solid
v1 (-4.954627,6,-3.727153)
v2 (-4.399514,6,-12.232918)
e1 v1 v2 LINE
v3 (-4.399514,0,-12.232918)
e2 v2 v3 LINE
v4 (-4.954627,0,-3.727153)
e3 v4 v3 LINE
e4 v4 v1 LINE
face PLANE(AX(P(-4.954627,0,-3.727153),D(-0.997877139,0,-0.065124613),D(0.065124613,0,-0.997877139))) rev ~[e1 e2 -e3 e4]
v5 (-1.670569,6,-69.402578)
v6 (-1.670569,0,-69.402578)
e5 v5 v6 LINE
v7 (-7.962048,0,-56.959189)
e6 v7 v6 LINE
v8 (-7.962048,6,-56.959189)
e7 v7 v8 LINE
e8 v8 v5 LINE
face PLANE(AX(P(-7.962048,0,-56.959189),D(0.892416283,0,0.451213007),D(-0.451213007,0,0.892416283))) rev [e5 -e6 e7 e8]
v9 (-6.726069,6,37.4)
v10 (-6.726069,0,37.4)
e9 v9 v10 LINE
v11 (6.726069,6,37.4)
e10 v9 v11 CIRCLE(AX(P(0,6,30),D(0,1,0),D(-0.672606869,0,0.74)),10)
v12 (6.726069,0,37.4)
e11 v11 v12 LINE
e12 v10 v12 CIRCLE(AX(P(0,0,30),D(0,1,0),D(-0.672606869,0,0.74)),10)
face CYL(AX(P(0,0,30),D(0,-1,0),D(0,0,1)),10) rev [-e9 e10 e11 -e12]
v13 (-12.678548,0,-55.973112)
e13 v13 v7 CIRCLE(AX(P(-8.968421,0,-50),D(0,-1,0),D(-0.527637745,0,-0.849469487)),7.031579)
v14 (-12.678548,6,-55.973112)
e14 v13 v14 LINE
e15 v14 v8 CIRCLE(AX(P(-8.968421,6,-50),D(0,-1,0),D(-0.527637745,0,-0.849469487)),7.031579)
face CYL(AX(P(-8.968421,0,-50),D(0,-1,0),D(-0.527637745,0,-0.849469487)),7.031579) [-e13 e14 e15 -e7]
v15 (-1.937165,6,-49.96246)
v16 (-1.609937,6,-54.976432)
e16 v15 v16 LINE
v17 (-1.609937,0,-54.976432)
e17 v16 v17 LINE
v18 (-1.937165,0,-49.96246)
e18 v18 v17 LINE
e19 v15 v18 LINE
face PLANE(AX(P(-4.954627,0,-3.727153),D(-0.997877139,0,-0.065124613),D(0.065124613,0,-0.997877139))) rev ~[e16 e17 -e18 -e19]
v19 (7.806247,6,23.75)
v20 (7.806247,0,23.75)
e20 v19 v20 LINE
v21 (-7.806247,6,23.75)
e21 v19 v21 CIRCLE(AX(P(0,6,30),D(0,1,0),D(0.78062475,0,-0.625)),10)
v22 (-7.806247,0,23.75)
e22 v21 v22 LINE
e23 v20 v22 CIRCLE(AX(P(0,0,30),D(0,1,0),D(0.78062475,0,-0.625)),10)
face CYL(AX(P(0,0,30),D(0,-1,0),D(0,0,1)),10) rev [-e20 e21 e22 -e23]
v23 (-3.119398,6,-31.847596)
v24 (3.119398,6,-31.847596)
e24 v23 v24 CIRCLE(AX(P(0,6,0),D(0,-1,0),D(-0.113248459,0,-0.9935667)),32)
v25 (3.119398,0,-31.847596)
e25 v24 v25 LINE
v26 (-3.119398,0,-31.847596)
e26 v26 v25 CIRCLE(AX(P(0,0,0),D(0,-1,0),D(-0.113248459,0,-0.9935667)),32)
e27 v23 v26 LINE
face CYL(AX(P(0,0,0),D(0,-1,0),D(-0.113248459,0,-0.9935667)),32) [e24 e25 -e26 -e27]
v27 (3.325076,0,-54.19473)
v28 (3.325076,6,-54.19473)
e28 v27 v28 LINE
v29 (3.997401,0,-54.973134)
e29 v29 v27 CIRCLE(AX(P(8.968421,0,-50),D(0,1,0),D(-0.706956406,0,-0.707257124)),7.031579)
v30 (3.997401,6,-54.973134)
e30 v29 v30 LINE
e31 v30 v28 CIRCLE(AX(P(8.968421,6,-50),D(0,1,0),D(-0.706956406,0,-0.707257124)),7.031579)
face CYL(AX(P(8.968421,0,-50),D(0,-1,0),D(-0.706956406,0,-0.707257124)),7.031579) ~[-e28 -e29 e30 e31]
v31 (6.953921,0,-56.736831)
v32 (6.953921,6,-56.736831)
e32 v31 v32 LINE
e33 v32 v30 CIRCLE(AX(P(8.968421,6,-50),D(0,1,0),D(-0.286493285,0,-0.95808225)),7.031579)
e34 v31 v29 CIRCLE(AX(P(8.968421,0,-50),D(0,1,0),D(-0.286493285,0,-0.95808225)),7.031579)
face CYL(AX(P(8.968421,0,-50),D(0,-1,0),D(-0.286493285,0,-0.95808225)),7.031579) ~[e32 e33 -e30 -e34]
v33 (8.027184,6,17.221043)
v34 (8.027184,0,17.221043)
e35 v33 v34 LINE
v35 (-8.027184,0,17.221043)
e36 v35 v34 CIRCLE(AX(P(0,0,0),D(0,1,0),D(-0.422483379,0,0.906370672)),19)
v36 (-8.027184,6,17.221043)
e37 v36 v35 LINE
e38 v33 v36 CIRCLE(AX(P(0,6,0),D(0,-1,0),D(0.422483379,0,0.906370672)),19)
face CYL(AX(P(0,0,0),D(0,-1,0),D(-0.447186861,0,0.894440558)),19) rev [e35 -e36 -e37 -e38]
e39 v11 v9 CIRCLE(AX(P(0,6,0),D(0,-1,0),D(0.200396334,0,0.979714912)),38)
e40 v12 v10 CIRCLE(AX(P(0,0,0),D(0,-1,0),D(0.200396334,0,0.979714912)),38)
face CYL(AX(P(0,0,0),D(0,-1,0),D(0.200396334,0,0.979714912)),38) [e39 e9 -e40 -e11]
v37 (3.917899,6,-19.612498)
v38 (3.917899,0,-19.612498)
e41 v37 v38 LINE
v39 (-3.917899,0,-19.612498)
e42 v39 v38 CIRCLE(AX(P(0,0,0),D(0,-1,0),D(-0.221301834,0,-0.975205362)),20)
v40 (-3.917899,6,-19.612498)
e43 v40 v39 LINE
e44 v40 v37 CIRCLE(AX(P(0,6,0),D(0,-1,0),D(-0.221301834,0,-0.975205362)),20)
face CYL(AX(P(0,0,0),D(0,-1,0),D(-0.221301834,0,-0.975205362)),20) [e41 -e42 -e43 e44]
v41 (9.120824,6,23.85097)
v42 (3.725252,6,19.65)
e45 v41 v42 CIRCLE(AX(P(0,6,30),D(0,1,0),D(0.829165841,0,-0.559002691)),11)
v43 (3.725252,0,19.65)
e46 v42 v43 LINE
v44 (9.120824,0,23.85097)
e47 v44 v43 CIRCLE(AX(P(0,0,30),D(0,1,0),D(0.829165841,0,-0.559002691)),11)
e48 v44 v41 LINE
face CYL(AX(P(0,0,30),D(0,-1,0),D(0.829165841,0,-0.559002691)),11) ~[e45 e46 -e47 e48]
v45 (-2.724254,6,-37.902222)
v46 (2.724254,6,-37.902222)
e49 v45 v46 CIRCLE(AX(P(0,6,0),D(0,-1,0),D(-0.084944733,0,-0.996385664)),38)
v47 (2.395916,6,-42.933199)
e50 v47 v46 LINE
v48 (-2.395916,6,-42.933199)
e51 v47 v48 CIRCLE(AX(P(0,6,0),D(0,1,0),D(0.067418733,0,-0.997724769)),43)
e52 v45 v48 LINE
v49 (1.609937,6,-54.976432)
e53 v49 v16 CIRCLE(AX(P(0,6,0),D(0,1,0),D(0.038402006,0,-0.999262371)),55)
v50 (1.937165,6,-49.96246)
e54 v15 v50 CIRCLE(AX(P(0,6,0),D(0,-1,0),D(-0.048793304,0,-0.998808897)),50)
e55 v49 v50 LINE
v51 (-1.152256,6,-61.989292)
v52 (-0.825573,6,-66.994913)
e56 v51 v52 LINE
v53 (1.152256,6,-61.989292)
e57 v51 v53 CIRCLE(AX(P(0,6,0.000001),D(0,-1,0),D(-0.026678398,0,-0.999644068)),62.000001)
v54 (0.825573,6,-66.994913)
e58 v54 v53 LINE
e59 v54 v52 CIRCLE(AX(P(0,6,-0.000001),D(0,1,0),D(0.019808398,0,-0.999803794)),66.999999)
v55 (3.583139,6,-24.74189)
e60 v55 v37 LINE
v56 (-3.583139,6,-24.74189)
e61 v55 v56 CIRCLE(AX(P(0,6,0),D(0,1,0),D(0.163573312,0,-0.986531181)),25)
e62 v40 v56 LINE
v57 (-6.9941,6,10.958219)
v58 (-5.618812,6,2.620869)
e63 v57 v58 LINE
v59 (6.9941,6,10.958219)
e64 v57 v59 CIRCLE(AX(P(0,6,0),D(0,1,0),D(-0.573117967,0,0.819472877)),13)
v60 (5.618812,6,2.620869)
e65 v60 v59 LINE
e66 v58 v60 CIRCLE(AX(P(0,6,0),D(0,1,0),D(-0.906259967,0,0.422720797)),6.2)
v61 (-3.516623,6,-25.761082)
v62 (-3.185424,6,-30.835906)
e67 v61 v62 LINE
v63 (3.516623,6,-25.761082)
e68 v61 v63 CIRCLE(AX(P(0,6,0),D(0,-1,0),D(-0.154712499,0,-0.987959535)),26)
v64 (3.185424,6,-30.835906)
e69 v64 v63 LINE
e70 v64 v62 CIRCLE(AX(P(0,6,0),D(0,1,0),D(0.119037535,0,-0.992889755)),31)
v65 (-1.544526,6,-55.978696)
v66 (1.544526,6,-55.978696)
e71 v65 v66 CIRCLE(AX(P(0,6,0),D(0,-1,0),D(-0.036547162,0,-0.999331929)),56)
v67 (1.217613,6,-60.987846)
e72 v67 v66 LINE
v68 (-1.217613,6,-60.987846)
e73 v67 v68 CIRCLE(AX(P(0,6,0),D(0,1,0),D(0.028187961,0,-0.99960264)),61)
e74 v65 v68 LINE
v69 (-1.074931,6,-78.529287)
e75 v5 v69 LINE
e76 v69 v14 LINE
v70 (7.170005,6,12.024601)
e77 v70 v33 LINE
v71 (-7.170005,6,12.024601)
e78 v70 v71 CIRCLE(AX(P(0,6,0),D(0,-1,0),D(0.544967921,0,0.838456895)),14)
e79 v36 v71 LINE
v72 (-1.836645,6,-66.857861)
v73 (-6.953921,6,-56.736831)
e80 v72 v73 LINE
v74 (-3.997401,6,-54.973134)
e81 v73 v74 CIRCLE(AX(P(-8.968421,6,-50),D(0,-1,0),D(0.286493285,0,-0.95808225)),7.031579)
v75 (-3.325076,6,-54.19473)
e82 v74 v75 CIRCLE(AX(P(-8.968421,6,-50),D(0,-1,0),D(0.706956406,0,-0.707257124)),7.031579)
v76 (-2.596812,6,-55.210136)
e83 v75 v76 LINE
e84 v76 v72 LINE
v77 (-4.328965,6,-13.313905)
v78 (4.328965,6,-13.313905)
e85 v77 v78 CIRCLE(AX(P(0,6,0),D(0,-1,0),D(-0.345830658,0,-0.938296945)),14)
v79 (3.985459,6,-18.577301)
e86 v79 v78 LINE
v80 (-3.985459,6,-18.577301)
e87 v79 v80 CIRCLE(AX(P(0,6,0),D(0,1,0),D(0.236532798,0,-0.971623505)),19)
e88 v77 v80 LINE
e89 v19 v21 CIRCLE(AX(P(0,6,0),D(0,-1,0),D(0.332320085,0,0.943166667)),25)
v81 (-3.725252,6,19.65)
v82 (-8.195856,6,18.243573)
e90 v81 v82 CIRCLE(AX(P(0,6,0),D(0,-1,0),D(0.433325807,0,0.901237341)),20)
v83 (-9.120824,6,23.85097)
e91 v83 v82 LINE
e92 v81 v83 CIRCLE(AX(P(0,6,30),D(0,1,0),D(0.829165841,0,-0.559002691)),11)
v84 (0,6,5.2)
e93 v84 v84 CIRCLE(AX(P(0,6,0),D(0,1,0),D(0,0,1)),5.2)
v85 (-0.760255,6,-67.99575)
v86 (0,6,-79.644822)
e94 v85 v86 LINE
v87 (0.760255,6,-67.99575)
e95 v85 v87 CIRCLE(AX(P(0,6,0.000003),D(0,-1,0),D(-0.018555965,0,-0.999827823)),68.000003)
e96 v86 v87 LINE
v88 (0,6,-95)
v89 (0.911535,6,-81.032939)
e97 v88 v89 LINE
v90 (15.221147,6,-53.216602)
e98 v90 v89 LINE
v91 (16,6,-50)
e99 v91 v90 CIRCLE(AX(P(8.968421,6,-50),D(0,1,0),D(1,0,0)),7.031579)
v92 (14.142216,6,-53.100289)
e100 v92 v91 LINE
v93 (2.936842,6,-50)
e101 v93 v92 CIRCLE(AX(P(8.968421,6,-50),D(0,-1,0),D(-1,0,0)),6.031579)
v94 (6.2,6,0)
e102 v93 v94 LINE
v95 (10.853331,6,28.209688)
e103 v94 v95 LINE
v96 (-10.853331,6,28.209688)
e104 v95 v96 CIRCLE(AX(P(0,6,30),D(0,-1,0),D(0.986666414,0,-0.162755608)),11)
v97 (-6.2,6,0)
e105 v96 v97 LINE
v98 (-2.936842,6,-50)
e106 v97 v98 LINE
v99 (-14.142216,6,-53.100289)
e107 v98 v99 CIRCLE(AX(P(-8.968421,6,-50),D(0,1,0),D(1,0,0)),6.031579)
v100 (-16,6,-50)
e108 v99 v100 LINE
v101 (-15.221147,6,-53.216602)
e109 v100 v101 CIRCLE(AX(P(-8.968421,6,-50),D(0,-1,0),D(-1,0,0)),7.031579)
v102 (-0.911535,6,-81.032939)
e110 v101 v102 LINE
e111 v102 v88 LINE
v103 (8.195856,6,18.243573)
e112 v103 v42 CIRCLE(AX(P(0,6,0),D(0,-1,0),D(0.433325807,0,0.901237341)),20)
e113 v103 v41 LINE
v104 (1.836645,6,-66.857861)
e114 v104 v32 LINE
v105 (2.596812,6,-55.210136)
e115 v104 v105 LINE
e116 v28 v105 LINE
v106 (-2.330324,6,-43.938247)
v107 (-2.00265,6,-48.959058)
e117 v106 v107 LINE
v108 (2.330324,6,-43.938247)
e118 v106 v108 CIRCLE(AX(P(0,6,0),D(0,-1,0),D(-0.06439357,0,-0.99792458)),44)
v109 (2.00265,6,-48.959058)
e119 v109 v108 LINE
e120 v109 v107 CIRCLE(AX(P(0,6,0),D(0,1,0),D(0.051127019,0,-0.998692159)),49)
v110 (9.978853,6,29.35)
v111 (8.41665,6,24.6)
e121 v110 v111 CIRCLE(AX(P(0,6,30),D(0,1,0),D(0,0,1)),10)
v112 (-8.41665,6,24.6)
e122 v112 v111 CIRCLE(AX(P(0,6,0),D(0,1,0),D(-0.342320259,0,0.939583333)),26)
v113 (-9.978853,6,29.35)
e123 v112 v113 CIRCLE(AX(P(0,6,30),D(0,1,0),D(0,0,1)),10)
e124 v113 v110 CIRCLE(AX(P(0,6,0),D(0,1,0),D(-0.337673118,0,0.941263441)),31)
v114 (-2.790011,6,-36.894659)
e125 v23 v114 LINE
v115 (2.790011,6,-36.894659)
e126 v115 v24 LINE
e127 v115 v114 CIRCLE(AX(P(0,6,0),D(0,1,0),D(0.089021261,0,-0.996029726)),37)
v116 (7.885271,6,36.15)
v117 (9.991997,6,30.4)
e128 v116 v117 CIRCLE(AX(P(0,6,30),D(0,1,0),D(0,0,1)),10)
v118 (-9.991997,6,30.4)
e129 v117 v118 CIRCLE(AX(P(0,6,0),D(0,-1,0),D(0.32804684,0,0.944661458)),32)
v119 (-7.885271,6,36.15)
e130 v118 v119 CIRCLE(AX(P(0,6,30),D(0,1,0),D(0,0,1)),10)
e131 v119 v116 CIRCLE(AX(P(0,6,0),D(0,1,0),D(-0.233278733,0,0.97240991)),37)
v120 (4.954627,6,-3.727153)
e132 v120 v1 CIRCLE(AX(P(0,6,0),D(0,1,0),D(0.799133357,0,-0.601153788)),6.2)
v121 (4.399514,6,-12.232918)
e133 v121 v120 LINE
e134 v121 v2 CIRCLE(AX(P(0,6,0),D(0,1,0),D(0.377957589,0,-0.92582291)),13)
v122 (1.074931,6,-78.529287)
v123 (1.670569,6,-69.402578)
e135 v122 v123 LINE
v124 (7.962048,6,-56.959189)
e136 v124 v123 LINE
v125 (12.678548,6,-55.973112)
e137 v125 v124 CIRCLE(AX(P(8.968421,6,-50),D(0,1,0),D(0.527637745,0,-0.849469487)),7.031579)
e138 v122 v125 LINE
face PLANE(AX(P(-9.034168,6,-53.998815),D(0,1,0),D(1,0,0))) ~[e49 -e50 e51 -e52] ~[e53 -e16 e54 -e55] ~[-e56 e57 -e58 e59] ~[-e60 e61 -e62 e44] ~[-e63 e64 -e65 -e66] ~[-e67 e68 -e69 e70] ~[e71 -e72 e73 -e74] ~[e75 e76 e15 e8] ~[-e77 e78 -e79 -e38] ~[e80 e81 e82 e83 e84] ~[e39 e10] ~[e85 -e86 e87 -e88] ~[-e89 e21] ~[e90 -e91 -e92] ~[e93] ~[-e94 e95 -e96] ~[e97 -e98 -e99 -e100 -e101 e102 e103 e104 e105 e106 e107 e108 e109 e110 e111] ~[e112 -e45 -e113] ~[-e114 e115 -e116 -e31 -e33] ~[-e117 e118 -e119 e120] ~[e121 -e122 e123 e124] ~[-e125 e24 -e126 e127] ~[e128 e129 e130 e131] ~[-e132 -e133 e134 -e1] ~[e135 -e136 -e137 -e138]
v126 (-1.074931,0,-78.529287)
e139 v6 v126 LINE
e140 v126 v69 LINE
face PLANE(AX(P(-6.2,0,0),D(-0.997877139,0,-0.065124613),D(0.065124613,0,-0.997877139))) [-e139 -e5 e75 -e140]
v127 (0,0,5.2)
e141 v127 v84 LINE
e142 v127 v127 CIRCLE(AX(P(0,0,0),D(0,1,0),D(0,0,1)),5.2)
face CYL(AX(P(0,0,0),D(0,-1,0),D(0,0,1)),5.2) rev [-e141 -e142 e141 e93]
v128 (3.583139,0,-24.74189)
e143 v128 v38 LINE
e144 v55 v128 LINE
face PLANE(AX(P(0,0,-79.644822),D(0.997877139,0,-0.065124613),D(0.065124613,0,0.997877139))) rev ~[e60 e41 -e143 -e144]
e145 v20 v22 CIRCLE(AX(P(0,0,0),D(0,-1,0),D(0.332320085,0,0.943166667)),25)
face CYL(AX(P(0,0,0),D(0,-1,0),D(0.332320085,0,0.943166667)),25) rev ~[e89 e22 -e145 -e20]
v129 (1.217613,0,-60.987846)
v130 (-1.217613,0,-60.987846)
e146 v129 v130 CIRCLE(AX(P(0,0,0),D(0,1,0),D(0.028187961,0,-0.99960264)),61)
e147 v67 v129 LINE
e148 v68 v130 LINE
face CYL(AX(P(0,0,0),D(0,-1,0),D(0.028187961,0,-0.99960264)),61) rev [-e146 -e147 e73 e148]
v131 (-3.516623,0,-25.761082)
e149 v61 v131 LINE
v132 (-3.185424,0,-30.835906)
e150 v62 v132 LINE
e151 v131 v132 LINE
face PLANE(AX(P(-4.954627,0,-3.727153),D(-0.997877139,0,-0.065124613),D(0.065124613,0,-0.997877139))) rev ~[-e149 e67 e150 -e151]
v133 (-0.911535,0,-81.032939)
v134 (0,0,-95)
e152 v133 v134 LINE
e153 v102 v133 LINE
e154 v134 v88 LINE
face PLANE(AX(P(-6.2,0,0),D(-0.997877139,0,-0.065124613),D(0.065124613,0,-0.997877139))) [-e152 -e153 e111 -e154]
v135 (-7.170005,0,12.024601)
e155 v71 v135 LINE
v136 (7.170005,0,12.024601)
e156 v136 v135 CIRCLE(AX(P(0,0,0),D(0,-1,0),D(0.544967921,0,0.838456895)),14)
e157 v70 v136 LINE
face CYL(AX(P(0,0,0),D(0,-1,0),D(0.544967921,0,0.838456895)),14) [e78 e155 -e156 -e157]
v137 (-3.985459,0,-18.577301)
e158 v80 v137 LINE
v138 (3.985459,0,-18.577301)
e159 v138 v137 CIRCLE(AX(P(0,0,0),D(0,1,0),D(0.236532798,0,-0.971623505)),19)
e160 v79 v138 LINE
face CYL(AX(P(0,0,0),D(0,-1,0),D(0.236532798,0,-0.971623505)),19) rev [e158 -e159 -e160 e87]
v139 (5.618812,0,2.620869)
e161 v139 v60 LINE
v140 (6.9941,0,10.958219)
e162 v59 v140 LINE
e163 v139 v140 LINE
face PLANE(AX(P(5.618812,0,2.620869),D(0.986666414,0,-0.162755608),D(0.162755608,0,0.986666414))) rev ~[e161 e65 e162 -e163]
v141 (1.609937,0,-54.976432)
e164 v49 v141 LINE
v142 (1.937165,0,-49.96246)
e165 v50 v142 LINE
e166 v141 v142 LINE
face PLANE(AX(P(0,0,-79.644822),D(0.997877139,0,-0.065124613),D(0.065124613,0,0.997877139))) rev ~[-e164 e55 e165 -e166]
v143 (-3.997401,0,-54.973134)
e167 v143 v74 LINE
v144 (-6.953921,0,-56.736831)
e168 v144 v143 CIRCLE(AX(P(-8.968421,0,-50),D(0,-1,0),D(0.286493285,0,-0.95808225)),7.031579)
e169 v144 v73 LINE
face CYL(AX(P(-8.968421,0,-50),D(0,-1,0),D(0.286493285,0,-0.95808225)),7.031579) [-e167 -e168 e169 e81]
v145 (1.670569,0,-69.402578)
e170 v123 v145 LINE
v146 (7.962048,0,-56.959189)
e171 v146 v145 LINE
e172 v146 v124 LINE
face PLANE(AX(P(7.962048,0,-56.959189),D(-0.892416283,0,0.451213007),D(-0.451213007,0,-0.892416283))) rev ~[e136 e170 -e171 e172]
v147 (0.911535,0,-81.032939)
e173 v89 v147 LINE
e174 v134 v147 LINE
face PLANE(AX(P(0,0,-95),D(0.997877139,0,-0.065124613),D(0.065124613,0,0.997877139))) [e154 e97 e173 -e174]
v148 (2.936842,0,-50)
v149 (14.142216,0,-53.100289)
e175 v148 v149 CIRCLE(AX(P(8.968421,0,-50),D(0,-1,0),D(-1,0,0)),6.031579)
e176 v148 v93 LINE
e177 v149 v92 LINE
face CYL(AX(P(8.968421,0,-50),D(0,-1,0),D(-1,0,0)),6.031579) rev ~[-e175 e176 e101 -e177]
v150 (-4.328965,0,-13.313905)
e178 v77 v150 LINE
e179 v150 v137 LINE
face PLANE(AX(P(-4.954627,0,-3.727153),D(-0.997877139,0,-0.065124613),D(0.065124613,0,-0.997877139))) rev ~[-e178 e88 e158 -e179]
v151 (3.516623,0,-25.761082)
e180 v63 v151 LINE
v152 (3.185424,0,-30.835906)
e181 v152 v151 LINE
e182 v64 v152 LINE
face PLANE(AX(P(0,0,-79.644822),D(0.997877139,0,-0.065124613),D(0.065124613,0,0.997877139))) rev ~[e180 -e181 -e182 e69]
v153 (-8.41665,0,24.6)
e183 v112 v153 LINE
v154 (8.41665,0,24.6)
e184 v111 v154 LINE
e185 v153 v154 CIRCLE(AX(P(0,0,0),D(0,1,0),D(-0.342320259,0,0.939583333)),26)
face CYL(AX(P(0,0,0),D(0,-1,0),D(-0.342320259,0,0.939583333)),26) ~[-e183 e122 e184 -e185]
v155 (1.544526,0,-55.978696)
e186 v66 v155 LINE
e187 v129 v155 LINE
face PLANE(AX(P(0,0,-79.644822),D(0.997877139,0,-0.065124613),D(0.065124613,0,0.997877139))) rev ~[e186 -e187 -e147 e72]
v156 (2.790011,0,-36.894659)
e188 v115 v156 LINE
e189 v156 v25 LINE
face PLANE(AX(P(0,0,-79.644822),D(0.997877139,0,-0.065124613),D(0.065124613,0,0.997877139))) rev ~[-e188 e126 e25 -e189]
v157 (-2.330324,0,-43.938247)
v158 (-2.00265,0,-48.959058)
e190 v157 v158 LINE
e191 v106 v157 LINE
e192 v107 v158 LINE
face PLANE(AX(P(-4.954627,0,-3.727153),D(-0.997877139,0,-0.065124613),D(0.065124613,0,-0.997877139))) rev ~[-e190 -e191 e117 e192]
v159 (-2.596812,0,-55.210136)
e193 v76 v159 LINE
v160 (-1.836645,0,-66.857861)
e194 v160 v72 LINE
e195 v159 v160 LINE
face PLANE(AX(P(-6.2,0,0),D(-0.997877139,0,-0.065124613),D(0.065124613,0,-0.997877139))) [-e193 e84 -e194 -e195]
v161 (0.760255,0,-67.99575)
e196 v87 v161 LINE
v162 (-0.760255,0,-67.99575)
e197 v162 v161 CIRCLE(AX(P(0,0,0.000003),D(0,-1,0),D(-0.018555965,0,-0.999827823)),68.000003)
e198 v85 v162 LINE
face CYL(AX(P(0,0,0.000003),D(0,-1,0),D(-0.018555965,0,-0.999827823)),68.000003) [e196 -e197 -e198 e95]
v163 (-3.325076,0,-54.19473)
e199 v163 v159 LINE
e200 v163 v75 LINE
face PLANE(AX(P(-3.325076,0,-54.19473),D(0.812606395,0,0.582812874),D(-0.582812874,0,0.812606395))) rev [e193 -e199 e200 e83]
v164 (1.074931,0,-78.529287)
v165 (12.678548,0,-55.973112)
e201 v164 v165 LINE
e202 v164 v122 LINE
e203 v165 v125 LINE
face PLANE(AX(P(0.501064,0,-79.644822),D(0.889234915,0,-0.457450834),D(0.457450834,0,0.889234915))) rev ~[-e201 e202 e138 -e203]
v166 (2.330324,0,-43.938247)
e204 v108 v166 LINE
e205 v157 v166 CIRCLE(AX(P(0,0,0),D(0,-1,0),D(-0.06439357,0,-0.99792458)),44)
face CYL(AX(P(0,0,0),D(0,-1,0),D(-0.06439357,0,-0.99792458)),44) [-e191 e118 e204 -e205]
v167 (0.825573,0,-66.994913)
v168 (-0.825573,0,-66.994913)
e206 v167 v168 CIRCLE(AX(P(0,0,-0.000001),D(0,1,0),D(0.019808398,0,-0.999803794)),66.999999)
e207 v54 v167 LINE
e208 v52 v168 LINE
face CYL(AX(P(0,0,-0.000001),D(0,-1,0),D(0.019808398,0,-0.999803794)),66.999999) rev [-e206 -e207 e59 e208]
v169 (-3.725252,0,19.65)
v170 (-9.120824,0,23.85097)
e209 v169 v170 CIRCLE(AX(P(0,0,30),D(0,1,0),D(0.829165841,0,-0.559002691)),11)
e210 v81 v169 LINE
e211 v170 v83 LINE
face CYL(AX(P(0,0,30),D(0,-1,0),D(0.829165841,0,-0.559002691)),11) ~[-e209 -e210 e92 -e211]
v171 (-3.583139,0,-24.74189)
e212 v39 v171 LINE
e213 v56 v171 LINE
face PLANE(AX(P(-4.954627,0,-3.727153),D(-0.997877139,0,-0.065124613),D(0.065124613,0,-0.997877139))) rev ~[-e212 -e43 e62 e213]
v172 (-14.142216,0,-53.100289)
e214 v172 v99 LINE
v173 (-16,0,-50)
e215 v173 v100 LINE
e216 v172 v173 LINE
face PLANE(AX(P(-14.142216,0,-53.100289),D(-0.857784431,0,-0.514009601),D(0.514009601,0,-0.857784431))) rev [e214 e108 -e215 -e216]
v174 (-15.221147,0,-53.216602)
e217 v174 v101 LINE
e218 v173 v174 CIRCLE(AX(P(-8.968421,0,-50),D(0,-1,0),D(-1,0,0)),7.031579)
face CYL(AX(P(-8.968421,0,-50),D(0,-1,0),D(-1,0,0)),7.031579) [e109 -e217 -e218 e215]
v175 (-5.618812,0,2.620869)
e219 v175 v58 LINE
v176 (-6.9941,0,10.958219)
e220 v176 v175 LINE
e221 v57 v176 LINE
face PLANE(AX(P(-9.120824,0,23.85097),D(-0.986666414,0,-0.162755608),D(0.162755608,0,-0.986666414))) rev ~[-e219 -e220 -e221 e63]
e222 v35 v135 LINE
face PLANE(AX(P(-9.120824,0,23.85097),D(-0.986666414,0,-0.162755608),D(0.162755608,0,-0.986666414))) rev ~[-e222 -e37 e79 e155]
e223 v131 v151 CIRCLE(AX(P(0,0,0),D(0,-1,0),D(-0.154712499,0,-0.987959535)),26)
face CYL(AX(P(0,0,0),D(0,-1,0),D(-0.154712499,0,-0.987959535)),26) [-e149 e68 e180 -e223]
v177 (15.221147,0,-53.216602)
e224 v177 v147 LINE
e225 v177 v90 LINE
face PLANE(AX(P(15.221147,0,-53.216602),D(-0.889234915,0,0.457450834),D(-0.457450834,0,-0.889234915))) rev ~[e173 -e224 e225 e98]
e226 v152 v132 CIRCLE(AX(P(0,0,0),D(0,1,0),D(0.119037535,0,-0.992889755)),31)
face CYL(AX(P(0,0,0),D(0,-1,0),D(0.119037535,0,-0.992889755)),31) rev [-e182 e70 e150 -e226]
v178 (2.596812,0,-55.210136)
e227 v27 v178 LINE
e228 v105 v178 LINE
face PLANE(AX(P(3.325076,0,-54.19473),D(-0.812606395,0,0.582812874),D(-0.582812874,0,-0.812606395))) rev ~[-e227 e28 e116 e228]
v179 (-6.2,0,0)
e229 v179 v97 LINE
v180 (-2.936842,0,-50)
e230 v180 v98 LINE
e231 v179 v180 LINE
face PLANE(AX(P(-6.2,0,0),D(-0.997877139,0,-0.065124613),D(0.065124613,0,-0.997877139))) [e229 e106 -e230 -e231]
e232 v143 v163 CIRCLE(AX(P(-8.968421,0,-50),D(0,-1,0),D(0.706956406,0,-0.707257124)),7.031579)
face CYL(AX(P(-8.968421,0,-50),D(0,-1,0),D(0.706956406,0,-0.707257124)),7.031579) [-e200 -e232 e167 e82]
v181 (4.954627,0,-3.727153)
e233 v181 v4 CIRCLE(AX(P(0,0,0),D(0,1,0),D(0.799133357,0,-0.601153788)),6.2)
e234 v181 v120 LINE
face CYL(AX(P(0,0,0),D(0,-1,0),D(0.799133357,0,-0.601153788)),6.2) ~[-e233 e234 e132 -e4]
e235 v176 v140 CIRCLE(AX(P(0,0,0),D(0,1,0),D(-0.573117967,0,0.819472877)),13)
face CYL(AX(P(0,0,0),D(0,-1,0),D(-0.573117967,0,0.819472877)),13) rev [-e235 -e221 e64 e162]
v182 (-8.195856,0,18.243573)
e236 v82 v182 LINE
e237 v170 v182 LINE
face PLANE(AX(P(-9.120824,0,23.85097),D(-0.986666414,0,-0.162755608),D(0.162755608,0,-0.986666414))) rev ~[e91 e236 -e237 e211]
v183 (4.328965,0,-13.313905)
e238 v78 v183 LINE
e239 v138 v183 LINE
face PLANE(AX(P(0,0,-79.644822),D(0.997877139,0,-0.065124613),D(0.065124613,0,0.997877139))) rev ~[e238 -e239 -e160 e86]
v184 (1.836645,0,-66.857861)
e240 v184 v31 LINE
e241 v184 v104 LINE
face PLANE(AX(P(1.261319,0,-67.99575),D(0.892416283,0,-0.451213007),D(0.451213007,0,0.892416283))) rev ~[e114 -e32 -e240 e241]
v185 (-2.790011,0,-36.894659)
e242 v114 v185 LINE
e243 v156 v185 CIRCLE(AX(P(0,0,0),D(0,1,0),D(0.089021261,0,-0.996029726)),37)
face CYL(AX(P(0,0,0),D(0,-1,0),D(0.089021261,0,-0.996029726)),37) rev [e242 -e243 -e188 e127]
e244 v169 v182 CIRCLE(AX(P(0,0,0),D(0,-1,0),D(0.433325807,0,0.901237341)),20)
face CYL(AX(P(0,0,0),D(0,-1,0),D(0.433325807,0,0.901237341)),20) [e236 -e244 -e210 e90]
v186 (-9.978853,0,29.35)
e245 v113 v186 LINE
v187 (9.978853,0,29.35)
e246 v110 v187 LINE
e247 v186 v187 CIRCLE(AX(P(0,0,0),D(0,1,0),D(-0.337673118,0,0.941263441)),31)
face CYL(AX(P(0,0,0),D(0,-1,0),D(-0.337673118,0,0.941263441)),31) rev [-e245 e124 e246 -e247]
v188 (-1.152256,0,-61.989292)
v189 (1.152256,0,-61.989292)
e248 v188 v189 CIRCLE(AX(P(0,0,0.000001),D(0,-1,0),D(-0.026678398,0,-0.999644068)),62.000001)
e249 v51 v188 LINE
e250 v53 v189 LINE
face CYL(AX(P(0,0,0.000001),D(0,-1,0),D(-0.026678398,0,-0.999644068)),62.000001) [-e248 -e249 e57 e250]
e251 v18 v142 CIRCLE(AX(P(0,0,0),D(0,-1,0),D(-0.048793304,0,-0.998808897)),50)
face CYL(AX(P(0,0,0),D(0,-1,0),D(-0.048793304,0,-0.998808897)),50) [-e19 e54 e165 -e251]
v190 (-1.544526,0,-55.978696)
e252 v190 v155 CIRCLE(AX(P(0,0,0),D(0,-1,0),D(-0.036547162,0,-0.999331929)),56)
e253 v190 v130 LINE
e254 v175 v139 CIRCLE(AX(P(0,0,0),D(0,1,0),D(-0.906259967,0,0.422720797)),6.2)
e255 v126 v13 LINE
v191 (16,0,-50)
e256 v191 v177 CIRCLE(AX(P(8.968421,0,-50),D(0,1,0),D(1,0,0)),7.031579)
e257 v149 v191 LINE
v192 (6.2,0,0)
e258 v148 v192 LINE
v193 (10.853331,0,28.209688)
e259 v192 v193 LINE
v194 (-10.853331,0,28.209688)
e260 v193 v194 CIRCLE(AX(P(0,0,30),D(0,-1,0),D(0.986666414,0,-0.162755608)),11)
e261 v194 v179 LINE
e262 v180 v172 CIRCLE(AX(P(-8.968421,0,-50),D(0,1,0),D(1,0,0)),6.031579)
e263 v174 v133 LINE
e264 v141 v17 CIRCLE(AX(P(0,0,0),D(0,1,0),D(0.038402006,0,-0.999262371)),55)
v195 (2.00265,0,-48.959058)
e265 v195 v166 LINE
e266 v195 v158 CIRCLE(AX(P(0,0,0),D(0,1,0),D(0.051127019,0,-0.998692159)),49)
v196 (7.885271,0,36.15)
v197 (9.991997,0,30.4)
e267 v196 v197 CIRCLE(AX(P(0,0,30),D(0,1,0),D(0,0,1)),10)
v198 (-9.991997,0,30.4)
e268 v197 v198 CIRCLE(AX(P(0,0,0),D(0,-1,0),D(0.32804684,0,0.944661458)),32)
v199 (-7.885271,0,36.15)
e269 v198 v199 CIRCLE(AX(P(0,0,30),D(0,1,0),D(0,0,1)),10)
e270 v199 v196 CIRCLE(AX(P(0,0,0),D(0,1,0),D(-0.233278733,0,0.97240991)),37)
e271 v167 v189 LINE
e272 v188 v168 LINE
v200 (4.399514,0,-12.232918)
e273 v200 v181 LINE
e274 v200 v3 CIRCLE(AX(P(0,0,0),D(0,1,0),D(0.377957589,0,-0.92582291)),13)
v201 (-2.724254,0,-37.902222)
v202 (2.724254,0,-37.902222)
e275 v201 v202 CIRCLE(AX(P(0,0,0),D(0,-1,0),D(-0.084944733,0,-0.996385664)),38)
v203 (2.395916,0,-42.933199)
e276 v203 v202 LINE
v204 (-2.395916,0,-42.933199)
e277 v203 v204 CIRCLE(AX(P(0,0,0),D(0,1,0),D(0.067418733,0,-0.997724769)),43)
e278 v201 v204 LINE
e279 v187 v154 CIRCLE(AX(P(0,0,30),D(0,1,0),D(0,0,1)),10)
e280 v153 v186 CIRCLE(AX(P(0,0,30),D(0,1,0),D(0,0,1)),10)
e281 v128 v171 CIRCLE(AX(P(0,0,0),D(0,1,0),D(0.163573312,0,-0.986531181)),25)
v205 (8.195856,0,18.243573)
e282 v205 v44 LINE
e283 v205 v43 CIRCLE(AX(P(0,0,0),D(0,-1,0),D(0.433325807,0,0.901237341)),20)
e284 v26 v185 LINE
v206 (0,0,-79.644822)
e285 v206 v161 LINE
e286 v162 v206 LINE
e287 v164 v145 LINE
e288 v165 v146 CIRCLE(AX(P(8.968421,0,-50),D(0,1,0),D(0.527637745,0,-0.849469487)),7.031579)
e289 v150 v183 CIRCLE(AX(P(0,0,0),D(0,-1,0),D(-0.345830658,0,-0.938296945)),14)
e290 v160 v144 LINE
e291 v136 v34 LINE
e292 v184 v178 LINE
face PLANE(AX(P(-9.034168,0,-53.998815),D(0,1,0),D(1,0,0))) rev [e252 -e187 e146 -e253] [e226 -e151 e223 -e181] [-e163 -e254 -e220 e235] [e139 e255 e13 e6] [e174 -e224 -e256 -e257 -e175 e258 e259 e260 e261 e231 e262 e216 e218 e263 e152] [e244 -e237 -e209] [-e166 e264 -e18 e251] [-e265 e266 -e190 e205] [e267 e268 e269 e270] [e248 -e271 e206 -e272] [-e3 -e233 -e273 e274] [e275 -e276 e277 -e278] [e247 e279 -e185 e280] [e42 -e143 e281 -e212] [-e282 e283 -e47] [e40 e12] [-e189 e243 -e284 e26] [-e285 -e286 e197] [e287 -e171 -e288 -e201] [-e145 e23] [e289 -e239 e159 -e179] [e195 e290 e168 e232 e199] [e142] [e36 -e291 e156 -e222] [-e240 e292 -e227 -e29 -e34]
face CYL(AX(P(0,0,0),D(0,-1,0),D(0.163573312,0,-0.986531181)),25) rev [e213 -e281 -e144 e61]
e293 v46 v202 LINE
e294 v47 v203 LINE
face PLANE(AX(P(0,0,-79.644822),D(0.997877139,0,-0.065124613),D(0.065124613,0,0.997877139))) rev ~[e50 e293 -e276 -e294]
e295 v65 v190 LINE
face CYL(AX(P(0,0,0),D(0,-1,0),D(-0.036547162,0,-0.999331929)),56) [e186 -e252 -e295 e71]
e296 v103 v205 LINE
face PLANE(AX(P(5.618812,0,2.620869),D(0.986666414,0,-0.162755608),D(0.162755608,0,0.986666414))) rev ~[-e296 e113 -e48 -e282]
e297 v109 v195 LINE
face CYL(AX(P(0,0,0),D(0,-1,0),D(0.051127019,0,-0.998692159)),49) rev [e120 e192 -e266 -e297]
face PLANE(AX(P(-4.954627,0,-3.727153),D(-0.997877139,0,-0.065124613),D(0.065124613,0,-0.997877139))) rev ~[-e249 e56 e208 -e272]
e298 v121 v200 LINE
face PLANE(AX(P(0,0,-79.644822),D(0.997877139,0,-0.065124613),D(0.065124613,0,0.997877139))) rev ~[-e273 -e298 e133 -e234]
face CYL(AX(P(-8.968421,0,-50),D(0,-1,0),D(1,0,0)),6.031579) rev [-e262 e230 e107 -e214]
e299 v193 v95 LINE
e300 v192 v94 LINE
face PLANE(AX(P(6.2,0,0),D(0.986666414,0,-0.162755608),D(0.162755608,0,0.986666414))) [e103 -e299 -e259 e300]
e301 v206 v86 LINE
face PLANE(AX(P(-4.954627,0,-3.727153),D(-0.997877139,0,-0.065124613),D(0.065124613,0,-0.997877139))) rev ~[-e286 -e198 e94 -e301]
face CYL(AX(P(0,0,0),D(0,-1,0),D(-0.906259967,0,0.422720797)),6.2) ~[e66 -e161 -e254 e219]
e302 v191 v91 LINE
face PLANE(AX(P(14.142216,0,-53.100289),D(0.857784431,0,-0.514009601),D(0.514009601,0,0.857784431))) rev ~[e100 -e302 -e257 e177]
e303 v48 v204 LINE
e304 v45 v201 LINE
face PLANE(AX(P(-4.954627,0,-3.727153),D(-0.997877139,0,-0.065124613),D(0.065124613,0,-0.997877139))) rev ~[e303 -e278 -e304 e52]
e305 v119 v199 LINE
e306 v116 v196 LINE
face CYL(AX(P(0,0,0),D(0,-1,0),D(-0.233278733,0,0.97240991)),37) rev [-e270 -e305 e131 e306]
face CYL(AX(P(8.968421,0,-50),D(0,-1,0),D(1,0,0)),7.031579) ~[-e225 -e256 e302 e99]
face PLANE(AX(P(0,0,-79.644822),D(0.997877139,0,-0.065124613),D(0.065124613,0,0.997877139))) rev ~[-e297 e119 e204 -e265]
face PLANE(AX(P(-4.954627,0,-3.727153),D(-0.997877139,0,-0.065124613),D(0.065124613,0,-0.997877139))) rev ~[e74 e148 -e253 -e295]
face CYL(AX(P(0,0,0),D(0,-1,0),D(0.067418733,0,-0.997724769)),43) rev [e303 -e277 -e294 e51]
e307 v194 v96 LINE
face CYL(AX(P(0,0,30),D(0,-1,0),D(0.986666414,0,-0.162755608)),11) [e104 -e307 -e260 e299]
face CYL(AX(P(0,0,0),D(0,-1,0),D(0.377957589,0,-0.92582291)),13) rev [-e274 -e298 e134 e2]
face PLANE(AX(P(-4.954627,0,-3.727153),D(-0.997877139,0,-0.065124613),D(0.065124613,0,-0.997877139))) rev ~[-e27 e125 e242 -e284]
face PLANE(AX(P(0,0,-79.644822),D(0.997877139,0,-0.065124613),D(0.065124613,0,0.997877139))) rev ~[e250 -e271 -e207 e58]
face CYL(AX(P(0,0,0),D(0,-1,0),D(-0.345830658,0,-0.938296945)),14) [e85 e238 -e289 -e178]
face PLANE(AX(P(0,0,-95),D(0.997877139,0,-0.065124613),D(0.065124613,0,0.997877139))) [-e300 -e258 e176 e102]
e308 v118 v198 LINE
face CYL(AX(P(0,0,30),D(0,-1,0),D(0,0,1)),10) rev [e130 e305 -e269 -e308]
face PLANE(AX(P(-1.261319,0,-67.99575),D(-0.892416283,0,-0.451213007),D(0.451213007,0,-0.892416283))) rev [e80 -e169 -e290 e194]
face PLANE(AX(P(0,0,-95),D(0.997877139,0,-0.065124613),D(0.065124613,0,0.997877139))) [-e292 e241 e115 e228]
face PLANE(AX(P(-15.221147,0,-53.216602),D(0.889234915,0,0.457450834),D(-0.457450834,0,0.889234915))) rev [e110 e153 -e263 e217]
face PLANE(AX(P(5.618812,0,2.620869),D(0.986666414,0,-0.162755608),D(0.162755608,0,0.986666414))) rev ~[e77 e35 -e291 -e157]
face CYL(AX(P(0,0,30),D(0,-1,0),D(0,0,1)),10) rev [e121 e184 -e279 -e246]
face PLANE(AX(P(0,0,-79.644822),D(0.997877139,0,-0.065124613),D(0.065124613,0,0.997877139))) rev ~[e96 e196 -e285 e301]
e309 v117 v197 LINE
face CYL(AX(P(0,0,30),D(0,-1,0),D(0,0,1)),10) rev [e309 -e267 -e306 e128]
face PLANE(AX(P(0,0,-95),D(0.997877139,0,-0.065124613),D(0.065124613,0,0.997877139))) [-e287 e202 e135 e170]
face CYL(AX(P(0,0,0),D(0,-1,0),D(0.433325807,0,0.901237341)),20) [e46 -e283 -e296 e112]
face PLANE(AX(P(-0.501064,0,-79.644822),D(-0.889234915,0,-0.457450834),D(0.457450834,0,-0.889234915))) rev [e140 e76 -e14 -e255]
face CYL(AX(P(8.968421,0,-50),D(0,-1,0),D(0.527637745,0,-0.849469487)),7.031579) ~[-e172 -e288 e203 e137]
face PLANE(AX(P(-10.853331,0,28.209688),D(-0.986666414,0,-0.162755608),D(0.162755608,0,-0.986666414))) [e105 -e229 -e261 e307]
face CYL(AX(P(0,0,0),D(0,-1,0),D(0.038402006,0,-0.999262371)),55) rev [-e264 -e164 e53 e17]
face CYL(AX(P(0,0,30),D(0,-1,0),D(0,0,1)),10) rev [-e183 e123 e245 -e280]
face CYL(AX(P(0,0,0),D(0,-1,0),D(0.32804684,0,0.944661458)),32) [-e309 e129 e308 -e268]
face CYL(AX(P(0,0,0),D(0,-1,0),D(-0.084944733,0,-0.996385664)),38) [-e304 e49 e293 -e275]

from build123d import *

# Parameters (mm, degrees)
SKETCH1_R           = 5.2
SKETCH1_R_2         = 10
BOSS_EXTRUDE1_DEPTH = 6
BOSS_EXTRUDE2_DEPTH = 6
BOSS_EXTRUDE4_DEPTH = 6


with BuildPart() as part:
    # Sketch1 → Boss-Extrude1 (new body)
    with BuildSketch(Plane(origin=(0, 0, 0), x_dir=(1, 0, 0), z_dir=(0, 1, 0))):
        with BuildLine():
            Line((-6.2, 0), (0, 95))
            Line((0, 95), (6.2, 0))
            Line((6.2, 0), (10.853330552, -28.209688314))
            ThreePointArc((10.853330552, -28.209688314), (0, -41), (-10.853330552, -28.209688314))
            Line((-10.853330552, -28.209688314), (-6.2, 0))
        make_face()
        with Locations(Location((0, 0, 0), (0, 0, 270))):
            Circle(SKETCH1_R, mode=Mode.SUBTRACT)
        with Locations(Location((0, -30, 0), (0, 0, 270))):
            Circle(SKETCH1_R_2, mode=Mode.SUBTRACT)
        with BuildLine():
            Line((-9.120824245, -23.850970395), (-5.618811795, -2.620868943))
            ThreePointArc((-5.618811795, -2.620868943), (0, -6.2), (5.618811795, -2.620868943))
            Line((5.618811795, -2.620868943), (9.120824245, -23.850970395))
            ThreePointArc((9.120824245, -23.850970395), (0, -19), (-9.120824245, -23.850970395))
        make_face(mode=Mode.SUBTRACT)
        with BuildLine():
            Line((-4.954626817, 3.727153486), (0, 79.644822449))
            Line((0, 79.644822449), (4.954626817, 3.727153486))
            ThreePointArc((4.954626817, 3.727153486), (0, 6.2), (-4.954626817, 3.727153486))
        make_face(mode=Mode.SUBTRACT)
    extrude(amount=BOSS_EXTRUDE1_DEPTH)

    # Sketch3 → Boss-Extrude2 (add)
    with BuildSketch(Plane(origin=(0, 0, 0), x_dir=(1, 0, 0), z_dir=(0, 1, 0))):
        with BuildLine():
            Line((4.841629208, 13.136157224), (4.913448664, 12.035697829))
            ThreePointArc((4.913448664, 12.035697829), (0, 13), (-4.913448664, 12.035697829))
            Line((-4.913448664, 12.035697829), (-4.841629208, 13.136157224))
            ThreePointArc((-4.841629208, 13.136157224), (0, 14), (4.841629208, 13.136157224))
        make_face()
        with BuildLine():
            Line((4.426036681, 19.504107242), (4.494123165, 18.460846594))
            ThreePointArc((4.494123165, 18.460846594), (0, 19), (-4.494123165, 18.460846594))
            Line((-4.494123165, 18.460846594), (-4.426036681, 19.504107242))
            ThreePointArc((-4.426036681, 19.504107242), (0, 20), (4.426036681, 19.504107242))
        make_face()
        with BuildLine():
            Line((4.022524974, 25.686947908), (4.089332805, 24.663279531))
            ThreePointArc((4.089332805, 24.663279531), (0, 25), (-4.089332805, 24.663279531))
            Line((-4.089332805, 24.663279531), (-4.022524974, 25.686947908))
            ThreePointArc((-4.022524974, 25.686947908), (0, 26), (4.022524974, 25.686947908))
        make_face()
        with BuildLine():
            Line((3.623950699, 31.794134386), (3.690163565, 30.779582402))
            ThreePointArc((3.690163565, 30.779582402), (0, 31), (-3.690163565, 30.779582402))
            Line((-3.690163565, 30.779582402), (-3.623950699, 31.794134386))
            ThreePointArc((-3.623950699, 31.794134386), (0, 32), (3.623950699, 31.794134386))
        make_face()
        with BuildLine():
            Line((3.227899864, 37.862655249), (3.293786636, 36.853099864))
            ThreePointArc((3.293786636, 36.853099864), (0, 37), (-3.293786636, 36.853099864))
            Line((-3.293786636, 36.853099864), (-3.227899864, 37.862655249))
            ThreePointArc((-3.227899864, 37.862655249), (0, 38), (3.227899864, 37.862655249))
        make_face()
        with BuildLine():
            ThreePointArc((2.899005539, 42.902165061), (0, 43), (-2.899005539, 42.902165061))
            Line((-2.899005539, 42.902165061), (-2.833317095, 43.908681536))
            ThreePointArc((-2.833317095, 43.908681536), (0, 44), (2.833317095, 43.908681536))
            Line((2.833317095, 43.908681536), (2.899005539, 42.902165061))
        make_face()
        with BuildLine():
            ThreePointArc((2.505223913, 48.935915779), (0, 49), (-2.505223913, 48.935915779))
            Line((-2.505223913, 48.935915779), (-2.439665173, 49.94044487))
            ThreePointArc((-2.439665173, 49.94044487), (0, 50), (2.439665173, 49.94044487))
            Line((2.439665173, 49.94044487), (2.505223913, 48.935915779))
        make_face()
        with BuildLine():
            ThreePointArc((2.112110327, 54.959430401), (0, 55), (-2.112110327, 54.959430401))
            Line((-2.112110327, 54.959430401), (-2.046641092, 55.962588041))
            ThreePointArc((-2.046641092, 55.962588041), (0, 56), (2.046641092, 55.962588041))
            Line((2.046641092, 55.962588041), (2.112110327, 54.959430401))
        make_face()
        with BuildLine():
            ThreePointArc((1.719465589, 60.97576107), (0, 61), (-1.719465589, 60.97576107))
            Line((-1.719465589, 60.97576107), (-1.654060735, 61.977932227))
            ThreePointArc((-1.654060735, 61.977932227), (0, 62), (1.654060735, 61.977932227))
            Line((1.654060735, 61.977932227), (1.719465589, 60.97576107))
        make_face()
        with BuildLine():
            ThreePointArc((1.327162667, 66.986854227), (0, 67), (-1.327162667, 66.986854227))
            Line((-1.327162667, 66.986854227), (-1.261805677, 67.988291981))
            ThreePointArc((-1.261805677, 67.988291981), (0, 68), (1.261805677, 67.988291981))
            Line((1.261805677, 67.988291981), (1.327162667, 66.986854227))
        make_face()
        with BuildLine():
            Line((-7.629550902, -11.738396528), (-7.450533577, -10.653147395))
            ThreePointArc((-7.450533577, -10.653147395), (0, -13), (7.450533577, -10.653147395))
            Line((7.450533577, -10.653147395), (7.629550902, -11.738396528))
            ThreePointArc((7.629550902, -11.738396528), (0, -14), (-7.629550902, -11.738396528))
        make_face()
        with BuildLine():
            Line((-8.666516131, -18.024746826), (-8.496550368, -16.994370593))
            ThreePointArc((-8.496550368, -16.994370593), (0, -19), (8.496550368, -16.994370593))
            Line((8.496550368, -16.994370593), (8.666516131, -18.024746826))
            ThreePointArc((8.666516131, -18.024746826), (0, -20), (-8.666516131, -18.024746826))
        make_face()
        with BuildLine():
            ThreePointArc((-8.308002125, -23.579166667), (-8.614654406, -23.996856701), (-8.900326734, -24.429166667))
            ThreePointArc((-8.900326734, -24.429166667), (0, -26), (8.900326734, -24.429166667))
            ThreePointArc((8.900326734, -24.429166667), (8.614654406, -23.996856701), (8.308002125, -23.579166667))
            ThreePointArc((8.308002125, -23.579166667), (0, -25), (-8.308002125, -23.579166667))
        make_face()
        with BuildLine():
            ThreePointArc((-10.467866671, -29.179166667), (0, -31), (10.467866671, -29.179166667))
            ThreePointArc((10.467866671, -29.179166667), (10.495821222, -29.703795885), (10.497498875, -30.229166667))
            ThreePointArc((10.497498875, -30.229166667), (0, -32), (-10.497498875, -30.229166667))
            ThreePointArc((-10.497498875, -30.229166667), (-10.495821222, -29.703795885), (-10.467866671, -29.179166667))
        make_face()
        with BuildLine():
            ThreePointArc((-8.631313108, -35.979166667), (0, -37), (8.631313108, -35.979166667))
            ThreePointArc((8.631313108, -35.979166667), (8.147195247, -36.6236855), (7.61506069, -37.229166667))
            ThreePointArc((7.61506069, -37.229166667), (0, -38), (-7.61506069, -37.229166667))
            ThreePointArc((-7.61506069, -37.229166667), (-8.147195247, -36.6236855), (-8.631313108, -35.979166667))
        make_face()
    extrude(amount=BOSS_EXTRUDE2_DEPTH)

    # Sketch5 → Boss-Extrude4 (add)
    with BuildSketch(Plane(origin=(0, 0, 0), x_dir=(1, 0, 0), z_dir=(0, 1, 0))):
        with BuildLine():
            Line((14.142215569, 53.100289487), (16, 50))
            ThreePointArc((16, 50), (15.802513368, 51.654776335), (15.221146562, 53.216601654))
            ThreePointArc((15.221146562, 53.216601654), (14.136998404, 54.76748473), (12.678547514, 55.973111763))
            ThreePointArc((12.678547514, 55.973111763), (10.40739911, 56.882764317), (7.962047997, 56.959189304))
            ThreePointArc((7.962047997, 56.959189304), (7.45389818, 56.86653646), (6.953920906, 56.73683098))
            ThreePointArc((6.953920906, 56.73683098), (5.366056739, 56.038714585), (3.997401273, 54.973134308))
            ThreePointArc((3.997401273, 54.973134308), (3.646986673, 54.596241795), (3.325075946, 54.194729849))
            ThreePointArc((3.325075946, 54.194729849), (2.72869668, 53.241749875), (2.291814027, 52.205905965))
            Line((2.291814027, 52.205905965), (2.435778417, 50))
            Line((2.435778417, 50), (2.936842105, 50))
            ThreePointArc((2.936842105, 50), (7.360037623, 55.813178764), (14.142215569, 53.100289487))
        make_face()
        with BuildLine():
            ThreePointArc((6.953920906, 56.73683098), (7.45389818, 56.86653646), (7.962047997, 56.959189304))
            Line((7.962047997, 56.959189304), (1.095242719, 70.540466335))
            Line((1.095242719, 70.540466335), (1.261318946, 67.995749955))
            Line((1.261318946, 67.995749955), (6.953920906, 56.73683098))
        make_face()
        with BuildLine():
            ThreePointArc((12.678547514, 55.973111763), (14.136998404, 54.76748473), (15.221146562, 53.216601654))
            Line((15.221146562, 53.216601654), (0.337667462, 82.148474304))
            Line((0.337667462, 82.148474304), (0.501063689, 79.644822449))
            Line((0.501063689, 79.644822449), (12.678547514, 55.973111763))
        make_face()
        with BuildLine():
            Line((2.045589816, 55.978696296), (2.291814027, 52.205905965))
            ThreePointArc((2.291814027, 52.205905965), (2.72869668, 53.241749875), (3.325075946, 54.194729849))
            Line((3.325075946, 54.194729849), (2.045589816, 55.978696296))
        make_face()
    boss_extrude4 = extrude(amount=BOSS_EXTRUDE4_DEPTH)

    # Mirror1: Boss-Extrude4 across plane
    add(boss_extrude4.mirror(Plane(origin=(0, 0, 0), x_dir=(0, 0, 1), z_dir=(1, 0, 0))))


solid = part.part
